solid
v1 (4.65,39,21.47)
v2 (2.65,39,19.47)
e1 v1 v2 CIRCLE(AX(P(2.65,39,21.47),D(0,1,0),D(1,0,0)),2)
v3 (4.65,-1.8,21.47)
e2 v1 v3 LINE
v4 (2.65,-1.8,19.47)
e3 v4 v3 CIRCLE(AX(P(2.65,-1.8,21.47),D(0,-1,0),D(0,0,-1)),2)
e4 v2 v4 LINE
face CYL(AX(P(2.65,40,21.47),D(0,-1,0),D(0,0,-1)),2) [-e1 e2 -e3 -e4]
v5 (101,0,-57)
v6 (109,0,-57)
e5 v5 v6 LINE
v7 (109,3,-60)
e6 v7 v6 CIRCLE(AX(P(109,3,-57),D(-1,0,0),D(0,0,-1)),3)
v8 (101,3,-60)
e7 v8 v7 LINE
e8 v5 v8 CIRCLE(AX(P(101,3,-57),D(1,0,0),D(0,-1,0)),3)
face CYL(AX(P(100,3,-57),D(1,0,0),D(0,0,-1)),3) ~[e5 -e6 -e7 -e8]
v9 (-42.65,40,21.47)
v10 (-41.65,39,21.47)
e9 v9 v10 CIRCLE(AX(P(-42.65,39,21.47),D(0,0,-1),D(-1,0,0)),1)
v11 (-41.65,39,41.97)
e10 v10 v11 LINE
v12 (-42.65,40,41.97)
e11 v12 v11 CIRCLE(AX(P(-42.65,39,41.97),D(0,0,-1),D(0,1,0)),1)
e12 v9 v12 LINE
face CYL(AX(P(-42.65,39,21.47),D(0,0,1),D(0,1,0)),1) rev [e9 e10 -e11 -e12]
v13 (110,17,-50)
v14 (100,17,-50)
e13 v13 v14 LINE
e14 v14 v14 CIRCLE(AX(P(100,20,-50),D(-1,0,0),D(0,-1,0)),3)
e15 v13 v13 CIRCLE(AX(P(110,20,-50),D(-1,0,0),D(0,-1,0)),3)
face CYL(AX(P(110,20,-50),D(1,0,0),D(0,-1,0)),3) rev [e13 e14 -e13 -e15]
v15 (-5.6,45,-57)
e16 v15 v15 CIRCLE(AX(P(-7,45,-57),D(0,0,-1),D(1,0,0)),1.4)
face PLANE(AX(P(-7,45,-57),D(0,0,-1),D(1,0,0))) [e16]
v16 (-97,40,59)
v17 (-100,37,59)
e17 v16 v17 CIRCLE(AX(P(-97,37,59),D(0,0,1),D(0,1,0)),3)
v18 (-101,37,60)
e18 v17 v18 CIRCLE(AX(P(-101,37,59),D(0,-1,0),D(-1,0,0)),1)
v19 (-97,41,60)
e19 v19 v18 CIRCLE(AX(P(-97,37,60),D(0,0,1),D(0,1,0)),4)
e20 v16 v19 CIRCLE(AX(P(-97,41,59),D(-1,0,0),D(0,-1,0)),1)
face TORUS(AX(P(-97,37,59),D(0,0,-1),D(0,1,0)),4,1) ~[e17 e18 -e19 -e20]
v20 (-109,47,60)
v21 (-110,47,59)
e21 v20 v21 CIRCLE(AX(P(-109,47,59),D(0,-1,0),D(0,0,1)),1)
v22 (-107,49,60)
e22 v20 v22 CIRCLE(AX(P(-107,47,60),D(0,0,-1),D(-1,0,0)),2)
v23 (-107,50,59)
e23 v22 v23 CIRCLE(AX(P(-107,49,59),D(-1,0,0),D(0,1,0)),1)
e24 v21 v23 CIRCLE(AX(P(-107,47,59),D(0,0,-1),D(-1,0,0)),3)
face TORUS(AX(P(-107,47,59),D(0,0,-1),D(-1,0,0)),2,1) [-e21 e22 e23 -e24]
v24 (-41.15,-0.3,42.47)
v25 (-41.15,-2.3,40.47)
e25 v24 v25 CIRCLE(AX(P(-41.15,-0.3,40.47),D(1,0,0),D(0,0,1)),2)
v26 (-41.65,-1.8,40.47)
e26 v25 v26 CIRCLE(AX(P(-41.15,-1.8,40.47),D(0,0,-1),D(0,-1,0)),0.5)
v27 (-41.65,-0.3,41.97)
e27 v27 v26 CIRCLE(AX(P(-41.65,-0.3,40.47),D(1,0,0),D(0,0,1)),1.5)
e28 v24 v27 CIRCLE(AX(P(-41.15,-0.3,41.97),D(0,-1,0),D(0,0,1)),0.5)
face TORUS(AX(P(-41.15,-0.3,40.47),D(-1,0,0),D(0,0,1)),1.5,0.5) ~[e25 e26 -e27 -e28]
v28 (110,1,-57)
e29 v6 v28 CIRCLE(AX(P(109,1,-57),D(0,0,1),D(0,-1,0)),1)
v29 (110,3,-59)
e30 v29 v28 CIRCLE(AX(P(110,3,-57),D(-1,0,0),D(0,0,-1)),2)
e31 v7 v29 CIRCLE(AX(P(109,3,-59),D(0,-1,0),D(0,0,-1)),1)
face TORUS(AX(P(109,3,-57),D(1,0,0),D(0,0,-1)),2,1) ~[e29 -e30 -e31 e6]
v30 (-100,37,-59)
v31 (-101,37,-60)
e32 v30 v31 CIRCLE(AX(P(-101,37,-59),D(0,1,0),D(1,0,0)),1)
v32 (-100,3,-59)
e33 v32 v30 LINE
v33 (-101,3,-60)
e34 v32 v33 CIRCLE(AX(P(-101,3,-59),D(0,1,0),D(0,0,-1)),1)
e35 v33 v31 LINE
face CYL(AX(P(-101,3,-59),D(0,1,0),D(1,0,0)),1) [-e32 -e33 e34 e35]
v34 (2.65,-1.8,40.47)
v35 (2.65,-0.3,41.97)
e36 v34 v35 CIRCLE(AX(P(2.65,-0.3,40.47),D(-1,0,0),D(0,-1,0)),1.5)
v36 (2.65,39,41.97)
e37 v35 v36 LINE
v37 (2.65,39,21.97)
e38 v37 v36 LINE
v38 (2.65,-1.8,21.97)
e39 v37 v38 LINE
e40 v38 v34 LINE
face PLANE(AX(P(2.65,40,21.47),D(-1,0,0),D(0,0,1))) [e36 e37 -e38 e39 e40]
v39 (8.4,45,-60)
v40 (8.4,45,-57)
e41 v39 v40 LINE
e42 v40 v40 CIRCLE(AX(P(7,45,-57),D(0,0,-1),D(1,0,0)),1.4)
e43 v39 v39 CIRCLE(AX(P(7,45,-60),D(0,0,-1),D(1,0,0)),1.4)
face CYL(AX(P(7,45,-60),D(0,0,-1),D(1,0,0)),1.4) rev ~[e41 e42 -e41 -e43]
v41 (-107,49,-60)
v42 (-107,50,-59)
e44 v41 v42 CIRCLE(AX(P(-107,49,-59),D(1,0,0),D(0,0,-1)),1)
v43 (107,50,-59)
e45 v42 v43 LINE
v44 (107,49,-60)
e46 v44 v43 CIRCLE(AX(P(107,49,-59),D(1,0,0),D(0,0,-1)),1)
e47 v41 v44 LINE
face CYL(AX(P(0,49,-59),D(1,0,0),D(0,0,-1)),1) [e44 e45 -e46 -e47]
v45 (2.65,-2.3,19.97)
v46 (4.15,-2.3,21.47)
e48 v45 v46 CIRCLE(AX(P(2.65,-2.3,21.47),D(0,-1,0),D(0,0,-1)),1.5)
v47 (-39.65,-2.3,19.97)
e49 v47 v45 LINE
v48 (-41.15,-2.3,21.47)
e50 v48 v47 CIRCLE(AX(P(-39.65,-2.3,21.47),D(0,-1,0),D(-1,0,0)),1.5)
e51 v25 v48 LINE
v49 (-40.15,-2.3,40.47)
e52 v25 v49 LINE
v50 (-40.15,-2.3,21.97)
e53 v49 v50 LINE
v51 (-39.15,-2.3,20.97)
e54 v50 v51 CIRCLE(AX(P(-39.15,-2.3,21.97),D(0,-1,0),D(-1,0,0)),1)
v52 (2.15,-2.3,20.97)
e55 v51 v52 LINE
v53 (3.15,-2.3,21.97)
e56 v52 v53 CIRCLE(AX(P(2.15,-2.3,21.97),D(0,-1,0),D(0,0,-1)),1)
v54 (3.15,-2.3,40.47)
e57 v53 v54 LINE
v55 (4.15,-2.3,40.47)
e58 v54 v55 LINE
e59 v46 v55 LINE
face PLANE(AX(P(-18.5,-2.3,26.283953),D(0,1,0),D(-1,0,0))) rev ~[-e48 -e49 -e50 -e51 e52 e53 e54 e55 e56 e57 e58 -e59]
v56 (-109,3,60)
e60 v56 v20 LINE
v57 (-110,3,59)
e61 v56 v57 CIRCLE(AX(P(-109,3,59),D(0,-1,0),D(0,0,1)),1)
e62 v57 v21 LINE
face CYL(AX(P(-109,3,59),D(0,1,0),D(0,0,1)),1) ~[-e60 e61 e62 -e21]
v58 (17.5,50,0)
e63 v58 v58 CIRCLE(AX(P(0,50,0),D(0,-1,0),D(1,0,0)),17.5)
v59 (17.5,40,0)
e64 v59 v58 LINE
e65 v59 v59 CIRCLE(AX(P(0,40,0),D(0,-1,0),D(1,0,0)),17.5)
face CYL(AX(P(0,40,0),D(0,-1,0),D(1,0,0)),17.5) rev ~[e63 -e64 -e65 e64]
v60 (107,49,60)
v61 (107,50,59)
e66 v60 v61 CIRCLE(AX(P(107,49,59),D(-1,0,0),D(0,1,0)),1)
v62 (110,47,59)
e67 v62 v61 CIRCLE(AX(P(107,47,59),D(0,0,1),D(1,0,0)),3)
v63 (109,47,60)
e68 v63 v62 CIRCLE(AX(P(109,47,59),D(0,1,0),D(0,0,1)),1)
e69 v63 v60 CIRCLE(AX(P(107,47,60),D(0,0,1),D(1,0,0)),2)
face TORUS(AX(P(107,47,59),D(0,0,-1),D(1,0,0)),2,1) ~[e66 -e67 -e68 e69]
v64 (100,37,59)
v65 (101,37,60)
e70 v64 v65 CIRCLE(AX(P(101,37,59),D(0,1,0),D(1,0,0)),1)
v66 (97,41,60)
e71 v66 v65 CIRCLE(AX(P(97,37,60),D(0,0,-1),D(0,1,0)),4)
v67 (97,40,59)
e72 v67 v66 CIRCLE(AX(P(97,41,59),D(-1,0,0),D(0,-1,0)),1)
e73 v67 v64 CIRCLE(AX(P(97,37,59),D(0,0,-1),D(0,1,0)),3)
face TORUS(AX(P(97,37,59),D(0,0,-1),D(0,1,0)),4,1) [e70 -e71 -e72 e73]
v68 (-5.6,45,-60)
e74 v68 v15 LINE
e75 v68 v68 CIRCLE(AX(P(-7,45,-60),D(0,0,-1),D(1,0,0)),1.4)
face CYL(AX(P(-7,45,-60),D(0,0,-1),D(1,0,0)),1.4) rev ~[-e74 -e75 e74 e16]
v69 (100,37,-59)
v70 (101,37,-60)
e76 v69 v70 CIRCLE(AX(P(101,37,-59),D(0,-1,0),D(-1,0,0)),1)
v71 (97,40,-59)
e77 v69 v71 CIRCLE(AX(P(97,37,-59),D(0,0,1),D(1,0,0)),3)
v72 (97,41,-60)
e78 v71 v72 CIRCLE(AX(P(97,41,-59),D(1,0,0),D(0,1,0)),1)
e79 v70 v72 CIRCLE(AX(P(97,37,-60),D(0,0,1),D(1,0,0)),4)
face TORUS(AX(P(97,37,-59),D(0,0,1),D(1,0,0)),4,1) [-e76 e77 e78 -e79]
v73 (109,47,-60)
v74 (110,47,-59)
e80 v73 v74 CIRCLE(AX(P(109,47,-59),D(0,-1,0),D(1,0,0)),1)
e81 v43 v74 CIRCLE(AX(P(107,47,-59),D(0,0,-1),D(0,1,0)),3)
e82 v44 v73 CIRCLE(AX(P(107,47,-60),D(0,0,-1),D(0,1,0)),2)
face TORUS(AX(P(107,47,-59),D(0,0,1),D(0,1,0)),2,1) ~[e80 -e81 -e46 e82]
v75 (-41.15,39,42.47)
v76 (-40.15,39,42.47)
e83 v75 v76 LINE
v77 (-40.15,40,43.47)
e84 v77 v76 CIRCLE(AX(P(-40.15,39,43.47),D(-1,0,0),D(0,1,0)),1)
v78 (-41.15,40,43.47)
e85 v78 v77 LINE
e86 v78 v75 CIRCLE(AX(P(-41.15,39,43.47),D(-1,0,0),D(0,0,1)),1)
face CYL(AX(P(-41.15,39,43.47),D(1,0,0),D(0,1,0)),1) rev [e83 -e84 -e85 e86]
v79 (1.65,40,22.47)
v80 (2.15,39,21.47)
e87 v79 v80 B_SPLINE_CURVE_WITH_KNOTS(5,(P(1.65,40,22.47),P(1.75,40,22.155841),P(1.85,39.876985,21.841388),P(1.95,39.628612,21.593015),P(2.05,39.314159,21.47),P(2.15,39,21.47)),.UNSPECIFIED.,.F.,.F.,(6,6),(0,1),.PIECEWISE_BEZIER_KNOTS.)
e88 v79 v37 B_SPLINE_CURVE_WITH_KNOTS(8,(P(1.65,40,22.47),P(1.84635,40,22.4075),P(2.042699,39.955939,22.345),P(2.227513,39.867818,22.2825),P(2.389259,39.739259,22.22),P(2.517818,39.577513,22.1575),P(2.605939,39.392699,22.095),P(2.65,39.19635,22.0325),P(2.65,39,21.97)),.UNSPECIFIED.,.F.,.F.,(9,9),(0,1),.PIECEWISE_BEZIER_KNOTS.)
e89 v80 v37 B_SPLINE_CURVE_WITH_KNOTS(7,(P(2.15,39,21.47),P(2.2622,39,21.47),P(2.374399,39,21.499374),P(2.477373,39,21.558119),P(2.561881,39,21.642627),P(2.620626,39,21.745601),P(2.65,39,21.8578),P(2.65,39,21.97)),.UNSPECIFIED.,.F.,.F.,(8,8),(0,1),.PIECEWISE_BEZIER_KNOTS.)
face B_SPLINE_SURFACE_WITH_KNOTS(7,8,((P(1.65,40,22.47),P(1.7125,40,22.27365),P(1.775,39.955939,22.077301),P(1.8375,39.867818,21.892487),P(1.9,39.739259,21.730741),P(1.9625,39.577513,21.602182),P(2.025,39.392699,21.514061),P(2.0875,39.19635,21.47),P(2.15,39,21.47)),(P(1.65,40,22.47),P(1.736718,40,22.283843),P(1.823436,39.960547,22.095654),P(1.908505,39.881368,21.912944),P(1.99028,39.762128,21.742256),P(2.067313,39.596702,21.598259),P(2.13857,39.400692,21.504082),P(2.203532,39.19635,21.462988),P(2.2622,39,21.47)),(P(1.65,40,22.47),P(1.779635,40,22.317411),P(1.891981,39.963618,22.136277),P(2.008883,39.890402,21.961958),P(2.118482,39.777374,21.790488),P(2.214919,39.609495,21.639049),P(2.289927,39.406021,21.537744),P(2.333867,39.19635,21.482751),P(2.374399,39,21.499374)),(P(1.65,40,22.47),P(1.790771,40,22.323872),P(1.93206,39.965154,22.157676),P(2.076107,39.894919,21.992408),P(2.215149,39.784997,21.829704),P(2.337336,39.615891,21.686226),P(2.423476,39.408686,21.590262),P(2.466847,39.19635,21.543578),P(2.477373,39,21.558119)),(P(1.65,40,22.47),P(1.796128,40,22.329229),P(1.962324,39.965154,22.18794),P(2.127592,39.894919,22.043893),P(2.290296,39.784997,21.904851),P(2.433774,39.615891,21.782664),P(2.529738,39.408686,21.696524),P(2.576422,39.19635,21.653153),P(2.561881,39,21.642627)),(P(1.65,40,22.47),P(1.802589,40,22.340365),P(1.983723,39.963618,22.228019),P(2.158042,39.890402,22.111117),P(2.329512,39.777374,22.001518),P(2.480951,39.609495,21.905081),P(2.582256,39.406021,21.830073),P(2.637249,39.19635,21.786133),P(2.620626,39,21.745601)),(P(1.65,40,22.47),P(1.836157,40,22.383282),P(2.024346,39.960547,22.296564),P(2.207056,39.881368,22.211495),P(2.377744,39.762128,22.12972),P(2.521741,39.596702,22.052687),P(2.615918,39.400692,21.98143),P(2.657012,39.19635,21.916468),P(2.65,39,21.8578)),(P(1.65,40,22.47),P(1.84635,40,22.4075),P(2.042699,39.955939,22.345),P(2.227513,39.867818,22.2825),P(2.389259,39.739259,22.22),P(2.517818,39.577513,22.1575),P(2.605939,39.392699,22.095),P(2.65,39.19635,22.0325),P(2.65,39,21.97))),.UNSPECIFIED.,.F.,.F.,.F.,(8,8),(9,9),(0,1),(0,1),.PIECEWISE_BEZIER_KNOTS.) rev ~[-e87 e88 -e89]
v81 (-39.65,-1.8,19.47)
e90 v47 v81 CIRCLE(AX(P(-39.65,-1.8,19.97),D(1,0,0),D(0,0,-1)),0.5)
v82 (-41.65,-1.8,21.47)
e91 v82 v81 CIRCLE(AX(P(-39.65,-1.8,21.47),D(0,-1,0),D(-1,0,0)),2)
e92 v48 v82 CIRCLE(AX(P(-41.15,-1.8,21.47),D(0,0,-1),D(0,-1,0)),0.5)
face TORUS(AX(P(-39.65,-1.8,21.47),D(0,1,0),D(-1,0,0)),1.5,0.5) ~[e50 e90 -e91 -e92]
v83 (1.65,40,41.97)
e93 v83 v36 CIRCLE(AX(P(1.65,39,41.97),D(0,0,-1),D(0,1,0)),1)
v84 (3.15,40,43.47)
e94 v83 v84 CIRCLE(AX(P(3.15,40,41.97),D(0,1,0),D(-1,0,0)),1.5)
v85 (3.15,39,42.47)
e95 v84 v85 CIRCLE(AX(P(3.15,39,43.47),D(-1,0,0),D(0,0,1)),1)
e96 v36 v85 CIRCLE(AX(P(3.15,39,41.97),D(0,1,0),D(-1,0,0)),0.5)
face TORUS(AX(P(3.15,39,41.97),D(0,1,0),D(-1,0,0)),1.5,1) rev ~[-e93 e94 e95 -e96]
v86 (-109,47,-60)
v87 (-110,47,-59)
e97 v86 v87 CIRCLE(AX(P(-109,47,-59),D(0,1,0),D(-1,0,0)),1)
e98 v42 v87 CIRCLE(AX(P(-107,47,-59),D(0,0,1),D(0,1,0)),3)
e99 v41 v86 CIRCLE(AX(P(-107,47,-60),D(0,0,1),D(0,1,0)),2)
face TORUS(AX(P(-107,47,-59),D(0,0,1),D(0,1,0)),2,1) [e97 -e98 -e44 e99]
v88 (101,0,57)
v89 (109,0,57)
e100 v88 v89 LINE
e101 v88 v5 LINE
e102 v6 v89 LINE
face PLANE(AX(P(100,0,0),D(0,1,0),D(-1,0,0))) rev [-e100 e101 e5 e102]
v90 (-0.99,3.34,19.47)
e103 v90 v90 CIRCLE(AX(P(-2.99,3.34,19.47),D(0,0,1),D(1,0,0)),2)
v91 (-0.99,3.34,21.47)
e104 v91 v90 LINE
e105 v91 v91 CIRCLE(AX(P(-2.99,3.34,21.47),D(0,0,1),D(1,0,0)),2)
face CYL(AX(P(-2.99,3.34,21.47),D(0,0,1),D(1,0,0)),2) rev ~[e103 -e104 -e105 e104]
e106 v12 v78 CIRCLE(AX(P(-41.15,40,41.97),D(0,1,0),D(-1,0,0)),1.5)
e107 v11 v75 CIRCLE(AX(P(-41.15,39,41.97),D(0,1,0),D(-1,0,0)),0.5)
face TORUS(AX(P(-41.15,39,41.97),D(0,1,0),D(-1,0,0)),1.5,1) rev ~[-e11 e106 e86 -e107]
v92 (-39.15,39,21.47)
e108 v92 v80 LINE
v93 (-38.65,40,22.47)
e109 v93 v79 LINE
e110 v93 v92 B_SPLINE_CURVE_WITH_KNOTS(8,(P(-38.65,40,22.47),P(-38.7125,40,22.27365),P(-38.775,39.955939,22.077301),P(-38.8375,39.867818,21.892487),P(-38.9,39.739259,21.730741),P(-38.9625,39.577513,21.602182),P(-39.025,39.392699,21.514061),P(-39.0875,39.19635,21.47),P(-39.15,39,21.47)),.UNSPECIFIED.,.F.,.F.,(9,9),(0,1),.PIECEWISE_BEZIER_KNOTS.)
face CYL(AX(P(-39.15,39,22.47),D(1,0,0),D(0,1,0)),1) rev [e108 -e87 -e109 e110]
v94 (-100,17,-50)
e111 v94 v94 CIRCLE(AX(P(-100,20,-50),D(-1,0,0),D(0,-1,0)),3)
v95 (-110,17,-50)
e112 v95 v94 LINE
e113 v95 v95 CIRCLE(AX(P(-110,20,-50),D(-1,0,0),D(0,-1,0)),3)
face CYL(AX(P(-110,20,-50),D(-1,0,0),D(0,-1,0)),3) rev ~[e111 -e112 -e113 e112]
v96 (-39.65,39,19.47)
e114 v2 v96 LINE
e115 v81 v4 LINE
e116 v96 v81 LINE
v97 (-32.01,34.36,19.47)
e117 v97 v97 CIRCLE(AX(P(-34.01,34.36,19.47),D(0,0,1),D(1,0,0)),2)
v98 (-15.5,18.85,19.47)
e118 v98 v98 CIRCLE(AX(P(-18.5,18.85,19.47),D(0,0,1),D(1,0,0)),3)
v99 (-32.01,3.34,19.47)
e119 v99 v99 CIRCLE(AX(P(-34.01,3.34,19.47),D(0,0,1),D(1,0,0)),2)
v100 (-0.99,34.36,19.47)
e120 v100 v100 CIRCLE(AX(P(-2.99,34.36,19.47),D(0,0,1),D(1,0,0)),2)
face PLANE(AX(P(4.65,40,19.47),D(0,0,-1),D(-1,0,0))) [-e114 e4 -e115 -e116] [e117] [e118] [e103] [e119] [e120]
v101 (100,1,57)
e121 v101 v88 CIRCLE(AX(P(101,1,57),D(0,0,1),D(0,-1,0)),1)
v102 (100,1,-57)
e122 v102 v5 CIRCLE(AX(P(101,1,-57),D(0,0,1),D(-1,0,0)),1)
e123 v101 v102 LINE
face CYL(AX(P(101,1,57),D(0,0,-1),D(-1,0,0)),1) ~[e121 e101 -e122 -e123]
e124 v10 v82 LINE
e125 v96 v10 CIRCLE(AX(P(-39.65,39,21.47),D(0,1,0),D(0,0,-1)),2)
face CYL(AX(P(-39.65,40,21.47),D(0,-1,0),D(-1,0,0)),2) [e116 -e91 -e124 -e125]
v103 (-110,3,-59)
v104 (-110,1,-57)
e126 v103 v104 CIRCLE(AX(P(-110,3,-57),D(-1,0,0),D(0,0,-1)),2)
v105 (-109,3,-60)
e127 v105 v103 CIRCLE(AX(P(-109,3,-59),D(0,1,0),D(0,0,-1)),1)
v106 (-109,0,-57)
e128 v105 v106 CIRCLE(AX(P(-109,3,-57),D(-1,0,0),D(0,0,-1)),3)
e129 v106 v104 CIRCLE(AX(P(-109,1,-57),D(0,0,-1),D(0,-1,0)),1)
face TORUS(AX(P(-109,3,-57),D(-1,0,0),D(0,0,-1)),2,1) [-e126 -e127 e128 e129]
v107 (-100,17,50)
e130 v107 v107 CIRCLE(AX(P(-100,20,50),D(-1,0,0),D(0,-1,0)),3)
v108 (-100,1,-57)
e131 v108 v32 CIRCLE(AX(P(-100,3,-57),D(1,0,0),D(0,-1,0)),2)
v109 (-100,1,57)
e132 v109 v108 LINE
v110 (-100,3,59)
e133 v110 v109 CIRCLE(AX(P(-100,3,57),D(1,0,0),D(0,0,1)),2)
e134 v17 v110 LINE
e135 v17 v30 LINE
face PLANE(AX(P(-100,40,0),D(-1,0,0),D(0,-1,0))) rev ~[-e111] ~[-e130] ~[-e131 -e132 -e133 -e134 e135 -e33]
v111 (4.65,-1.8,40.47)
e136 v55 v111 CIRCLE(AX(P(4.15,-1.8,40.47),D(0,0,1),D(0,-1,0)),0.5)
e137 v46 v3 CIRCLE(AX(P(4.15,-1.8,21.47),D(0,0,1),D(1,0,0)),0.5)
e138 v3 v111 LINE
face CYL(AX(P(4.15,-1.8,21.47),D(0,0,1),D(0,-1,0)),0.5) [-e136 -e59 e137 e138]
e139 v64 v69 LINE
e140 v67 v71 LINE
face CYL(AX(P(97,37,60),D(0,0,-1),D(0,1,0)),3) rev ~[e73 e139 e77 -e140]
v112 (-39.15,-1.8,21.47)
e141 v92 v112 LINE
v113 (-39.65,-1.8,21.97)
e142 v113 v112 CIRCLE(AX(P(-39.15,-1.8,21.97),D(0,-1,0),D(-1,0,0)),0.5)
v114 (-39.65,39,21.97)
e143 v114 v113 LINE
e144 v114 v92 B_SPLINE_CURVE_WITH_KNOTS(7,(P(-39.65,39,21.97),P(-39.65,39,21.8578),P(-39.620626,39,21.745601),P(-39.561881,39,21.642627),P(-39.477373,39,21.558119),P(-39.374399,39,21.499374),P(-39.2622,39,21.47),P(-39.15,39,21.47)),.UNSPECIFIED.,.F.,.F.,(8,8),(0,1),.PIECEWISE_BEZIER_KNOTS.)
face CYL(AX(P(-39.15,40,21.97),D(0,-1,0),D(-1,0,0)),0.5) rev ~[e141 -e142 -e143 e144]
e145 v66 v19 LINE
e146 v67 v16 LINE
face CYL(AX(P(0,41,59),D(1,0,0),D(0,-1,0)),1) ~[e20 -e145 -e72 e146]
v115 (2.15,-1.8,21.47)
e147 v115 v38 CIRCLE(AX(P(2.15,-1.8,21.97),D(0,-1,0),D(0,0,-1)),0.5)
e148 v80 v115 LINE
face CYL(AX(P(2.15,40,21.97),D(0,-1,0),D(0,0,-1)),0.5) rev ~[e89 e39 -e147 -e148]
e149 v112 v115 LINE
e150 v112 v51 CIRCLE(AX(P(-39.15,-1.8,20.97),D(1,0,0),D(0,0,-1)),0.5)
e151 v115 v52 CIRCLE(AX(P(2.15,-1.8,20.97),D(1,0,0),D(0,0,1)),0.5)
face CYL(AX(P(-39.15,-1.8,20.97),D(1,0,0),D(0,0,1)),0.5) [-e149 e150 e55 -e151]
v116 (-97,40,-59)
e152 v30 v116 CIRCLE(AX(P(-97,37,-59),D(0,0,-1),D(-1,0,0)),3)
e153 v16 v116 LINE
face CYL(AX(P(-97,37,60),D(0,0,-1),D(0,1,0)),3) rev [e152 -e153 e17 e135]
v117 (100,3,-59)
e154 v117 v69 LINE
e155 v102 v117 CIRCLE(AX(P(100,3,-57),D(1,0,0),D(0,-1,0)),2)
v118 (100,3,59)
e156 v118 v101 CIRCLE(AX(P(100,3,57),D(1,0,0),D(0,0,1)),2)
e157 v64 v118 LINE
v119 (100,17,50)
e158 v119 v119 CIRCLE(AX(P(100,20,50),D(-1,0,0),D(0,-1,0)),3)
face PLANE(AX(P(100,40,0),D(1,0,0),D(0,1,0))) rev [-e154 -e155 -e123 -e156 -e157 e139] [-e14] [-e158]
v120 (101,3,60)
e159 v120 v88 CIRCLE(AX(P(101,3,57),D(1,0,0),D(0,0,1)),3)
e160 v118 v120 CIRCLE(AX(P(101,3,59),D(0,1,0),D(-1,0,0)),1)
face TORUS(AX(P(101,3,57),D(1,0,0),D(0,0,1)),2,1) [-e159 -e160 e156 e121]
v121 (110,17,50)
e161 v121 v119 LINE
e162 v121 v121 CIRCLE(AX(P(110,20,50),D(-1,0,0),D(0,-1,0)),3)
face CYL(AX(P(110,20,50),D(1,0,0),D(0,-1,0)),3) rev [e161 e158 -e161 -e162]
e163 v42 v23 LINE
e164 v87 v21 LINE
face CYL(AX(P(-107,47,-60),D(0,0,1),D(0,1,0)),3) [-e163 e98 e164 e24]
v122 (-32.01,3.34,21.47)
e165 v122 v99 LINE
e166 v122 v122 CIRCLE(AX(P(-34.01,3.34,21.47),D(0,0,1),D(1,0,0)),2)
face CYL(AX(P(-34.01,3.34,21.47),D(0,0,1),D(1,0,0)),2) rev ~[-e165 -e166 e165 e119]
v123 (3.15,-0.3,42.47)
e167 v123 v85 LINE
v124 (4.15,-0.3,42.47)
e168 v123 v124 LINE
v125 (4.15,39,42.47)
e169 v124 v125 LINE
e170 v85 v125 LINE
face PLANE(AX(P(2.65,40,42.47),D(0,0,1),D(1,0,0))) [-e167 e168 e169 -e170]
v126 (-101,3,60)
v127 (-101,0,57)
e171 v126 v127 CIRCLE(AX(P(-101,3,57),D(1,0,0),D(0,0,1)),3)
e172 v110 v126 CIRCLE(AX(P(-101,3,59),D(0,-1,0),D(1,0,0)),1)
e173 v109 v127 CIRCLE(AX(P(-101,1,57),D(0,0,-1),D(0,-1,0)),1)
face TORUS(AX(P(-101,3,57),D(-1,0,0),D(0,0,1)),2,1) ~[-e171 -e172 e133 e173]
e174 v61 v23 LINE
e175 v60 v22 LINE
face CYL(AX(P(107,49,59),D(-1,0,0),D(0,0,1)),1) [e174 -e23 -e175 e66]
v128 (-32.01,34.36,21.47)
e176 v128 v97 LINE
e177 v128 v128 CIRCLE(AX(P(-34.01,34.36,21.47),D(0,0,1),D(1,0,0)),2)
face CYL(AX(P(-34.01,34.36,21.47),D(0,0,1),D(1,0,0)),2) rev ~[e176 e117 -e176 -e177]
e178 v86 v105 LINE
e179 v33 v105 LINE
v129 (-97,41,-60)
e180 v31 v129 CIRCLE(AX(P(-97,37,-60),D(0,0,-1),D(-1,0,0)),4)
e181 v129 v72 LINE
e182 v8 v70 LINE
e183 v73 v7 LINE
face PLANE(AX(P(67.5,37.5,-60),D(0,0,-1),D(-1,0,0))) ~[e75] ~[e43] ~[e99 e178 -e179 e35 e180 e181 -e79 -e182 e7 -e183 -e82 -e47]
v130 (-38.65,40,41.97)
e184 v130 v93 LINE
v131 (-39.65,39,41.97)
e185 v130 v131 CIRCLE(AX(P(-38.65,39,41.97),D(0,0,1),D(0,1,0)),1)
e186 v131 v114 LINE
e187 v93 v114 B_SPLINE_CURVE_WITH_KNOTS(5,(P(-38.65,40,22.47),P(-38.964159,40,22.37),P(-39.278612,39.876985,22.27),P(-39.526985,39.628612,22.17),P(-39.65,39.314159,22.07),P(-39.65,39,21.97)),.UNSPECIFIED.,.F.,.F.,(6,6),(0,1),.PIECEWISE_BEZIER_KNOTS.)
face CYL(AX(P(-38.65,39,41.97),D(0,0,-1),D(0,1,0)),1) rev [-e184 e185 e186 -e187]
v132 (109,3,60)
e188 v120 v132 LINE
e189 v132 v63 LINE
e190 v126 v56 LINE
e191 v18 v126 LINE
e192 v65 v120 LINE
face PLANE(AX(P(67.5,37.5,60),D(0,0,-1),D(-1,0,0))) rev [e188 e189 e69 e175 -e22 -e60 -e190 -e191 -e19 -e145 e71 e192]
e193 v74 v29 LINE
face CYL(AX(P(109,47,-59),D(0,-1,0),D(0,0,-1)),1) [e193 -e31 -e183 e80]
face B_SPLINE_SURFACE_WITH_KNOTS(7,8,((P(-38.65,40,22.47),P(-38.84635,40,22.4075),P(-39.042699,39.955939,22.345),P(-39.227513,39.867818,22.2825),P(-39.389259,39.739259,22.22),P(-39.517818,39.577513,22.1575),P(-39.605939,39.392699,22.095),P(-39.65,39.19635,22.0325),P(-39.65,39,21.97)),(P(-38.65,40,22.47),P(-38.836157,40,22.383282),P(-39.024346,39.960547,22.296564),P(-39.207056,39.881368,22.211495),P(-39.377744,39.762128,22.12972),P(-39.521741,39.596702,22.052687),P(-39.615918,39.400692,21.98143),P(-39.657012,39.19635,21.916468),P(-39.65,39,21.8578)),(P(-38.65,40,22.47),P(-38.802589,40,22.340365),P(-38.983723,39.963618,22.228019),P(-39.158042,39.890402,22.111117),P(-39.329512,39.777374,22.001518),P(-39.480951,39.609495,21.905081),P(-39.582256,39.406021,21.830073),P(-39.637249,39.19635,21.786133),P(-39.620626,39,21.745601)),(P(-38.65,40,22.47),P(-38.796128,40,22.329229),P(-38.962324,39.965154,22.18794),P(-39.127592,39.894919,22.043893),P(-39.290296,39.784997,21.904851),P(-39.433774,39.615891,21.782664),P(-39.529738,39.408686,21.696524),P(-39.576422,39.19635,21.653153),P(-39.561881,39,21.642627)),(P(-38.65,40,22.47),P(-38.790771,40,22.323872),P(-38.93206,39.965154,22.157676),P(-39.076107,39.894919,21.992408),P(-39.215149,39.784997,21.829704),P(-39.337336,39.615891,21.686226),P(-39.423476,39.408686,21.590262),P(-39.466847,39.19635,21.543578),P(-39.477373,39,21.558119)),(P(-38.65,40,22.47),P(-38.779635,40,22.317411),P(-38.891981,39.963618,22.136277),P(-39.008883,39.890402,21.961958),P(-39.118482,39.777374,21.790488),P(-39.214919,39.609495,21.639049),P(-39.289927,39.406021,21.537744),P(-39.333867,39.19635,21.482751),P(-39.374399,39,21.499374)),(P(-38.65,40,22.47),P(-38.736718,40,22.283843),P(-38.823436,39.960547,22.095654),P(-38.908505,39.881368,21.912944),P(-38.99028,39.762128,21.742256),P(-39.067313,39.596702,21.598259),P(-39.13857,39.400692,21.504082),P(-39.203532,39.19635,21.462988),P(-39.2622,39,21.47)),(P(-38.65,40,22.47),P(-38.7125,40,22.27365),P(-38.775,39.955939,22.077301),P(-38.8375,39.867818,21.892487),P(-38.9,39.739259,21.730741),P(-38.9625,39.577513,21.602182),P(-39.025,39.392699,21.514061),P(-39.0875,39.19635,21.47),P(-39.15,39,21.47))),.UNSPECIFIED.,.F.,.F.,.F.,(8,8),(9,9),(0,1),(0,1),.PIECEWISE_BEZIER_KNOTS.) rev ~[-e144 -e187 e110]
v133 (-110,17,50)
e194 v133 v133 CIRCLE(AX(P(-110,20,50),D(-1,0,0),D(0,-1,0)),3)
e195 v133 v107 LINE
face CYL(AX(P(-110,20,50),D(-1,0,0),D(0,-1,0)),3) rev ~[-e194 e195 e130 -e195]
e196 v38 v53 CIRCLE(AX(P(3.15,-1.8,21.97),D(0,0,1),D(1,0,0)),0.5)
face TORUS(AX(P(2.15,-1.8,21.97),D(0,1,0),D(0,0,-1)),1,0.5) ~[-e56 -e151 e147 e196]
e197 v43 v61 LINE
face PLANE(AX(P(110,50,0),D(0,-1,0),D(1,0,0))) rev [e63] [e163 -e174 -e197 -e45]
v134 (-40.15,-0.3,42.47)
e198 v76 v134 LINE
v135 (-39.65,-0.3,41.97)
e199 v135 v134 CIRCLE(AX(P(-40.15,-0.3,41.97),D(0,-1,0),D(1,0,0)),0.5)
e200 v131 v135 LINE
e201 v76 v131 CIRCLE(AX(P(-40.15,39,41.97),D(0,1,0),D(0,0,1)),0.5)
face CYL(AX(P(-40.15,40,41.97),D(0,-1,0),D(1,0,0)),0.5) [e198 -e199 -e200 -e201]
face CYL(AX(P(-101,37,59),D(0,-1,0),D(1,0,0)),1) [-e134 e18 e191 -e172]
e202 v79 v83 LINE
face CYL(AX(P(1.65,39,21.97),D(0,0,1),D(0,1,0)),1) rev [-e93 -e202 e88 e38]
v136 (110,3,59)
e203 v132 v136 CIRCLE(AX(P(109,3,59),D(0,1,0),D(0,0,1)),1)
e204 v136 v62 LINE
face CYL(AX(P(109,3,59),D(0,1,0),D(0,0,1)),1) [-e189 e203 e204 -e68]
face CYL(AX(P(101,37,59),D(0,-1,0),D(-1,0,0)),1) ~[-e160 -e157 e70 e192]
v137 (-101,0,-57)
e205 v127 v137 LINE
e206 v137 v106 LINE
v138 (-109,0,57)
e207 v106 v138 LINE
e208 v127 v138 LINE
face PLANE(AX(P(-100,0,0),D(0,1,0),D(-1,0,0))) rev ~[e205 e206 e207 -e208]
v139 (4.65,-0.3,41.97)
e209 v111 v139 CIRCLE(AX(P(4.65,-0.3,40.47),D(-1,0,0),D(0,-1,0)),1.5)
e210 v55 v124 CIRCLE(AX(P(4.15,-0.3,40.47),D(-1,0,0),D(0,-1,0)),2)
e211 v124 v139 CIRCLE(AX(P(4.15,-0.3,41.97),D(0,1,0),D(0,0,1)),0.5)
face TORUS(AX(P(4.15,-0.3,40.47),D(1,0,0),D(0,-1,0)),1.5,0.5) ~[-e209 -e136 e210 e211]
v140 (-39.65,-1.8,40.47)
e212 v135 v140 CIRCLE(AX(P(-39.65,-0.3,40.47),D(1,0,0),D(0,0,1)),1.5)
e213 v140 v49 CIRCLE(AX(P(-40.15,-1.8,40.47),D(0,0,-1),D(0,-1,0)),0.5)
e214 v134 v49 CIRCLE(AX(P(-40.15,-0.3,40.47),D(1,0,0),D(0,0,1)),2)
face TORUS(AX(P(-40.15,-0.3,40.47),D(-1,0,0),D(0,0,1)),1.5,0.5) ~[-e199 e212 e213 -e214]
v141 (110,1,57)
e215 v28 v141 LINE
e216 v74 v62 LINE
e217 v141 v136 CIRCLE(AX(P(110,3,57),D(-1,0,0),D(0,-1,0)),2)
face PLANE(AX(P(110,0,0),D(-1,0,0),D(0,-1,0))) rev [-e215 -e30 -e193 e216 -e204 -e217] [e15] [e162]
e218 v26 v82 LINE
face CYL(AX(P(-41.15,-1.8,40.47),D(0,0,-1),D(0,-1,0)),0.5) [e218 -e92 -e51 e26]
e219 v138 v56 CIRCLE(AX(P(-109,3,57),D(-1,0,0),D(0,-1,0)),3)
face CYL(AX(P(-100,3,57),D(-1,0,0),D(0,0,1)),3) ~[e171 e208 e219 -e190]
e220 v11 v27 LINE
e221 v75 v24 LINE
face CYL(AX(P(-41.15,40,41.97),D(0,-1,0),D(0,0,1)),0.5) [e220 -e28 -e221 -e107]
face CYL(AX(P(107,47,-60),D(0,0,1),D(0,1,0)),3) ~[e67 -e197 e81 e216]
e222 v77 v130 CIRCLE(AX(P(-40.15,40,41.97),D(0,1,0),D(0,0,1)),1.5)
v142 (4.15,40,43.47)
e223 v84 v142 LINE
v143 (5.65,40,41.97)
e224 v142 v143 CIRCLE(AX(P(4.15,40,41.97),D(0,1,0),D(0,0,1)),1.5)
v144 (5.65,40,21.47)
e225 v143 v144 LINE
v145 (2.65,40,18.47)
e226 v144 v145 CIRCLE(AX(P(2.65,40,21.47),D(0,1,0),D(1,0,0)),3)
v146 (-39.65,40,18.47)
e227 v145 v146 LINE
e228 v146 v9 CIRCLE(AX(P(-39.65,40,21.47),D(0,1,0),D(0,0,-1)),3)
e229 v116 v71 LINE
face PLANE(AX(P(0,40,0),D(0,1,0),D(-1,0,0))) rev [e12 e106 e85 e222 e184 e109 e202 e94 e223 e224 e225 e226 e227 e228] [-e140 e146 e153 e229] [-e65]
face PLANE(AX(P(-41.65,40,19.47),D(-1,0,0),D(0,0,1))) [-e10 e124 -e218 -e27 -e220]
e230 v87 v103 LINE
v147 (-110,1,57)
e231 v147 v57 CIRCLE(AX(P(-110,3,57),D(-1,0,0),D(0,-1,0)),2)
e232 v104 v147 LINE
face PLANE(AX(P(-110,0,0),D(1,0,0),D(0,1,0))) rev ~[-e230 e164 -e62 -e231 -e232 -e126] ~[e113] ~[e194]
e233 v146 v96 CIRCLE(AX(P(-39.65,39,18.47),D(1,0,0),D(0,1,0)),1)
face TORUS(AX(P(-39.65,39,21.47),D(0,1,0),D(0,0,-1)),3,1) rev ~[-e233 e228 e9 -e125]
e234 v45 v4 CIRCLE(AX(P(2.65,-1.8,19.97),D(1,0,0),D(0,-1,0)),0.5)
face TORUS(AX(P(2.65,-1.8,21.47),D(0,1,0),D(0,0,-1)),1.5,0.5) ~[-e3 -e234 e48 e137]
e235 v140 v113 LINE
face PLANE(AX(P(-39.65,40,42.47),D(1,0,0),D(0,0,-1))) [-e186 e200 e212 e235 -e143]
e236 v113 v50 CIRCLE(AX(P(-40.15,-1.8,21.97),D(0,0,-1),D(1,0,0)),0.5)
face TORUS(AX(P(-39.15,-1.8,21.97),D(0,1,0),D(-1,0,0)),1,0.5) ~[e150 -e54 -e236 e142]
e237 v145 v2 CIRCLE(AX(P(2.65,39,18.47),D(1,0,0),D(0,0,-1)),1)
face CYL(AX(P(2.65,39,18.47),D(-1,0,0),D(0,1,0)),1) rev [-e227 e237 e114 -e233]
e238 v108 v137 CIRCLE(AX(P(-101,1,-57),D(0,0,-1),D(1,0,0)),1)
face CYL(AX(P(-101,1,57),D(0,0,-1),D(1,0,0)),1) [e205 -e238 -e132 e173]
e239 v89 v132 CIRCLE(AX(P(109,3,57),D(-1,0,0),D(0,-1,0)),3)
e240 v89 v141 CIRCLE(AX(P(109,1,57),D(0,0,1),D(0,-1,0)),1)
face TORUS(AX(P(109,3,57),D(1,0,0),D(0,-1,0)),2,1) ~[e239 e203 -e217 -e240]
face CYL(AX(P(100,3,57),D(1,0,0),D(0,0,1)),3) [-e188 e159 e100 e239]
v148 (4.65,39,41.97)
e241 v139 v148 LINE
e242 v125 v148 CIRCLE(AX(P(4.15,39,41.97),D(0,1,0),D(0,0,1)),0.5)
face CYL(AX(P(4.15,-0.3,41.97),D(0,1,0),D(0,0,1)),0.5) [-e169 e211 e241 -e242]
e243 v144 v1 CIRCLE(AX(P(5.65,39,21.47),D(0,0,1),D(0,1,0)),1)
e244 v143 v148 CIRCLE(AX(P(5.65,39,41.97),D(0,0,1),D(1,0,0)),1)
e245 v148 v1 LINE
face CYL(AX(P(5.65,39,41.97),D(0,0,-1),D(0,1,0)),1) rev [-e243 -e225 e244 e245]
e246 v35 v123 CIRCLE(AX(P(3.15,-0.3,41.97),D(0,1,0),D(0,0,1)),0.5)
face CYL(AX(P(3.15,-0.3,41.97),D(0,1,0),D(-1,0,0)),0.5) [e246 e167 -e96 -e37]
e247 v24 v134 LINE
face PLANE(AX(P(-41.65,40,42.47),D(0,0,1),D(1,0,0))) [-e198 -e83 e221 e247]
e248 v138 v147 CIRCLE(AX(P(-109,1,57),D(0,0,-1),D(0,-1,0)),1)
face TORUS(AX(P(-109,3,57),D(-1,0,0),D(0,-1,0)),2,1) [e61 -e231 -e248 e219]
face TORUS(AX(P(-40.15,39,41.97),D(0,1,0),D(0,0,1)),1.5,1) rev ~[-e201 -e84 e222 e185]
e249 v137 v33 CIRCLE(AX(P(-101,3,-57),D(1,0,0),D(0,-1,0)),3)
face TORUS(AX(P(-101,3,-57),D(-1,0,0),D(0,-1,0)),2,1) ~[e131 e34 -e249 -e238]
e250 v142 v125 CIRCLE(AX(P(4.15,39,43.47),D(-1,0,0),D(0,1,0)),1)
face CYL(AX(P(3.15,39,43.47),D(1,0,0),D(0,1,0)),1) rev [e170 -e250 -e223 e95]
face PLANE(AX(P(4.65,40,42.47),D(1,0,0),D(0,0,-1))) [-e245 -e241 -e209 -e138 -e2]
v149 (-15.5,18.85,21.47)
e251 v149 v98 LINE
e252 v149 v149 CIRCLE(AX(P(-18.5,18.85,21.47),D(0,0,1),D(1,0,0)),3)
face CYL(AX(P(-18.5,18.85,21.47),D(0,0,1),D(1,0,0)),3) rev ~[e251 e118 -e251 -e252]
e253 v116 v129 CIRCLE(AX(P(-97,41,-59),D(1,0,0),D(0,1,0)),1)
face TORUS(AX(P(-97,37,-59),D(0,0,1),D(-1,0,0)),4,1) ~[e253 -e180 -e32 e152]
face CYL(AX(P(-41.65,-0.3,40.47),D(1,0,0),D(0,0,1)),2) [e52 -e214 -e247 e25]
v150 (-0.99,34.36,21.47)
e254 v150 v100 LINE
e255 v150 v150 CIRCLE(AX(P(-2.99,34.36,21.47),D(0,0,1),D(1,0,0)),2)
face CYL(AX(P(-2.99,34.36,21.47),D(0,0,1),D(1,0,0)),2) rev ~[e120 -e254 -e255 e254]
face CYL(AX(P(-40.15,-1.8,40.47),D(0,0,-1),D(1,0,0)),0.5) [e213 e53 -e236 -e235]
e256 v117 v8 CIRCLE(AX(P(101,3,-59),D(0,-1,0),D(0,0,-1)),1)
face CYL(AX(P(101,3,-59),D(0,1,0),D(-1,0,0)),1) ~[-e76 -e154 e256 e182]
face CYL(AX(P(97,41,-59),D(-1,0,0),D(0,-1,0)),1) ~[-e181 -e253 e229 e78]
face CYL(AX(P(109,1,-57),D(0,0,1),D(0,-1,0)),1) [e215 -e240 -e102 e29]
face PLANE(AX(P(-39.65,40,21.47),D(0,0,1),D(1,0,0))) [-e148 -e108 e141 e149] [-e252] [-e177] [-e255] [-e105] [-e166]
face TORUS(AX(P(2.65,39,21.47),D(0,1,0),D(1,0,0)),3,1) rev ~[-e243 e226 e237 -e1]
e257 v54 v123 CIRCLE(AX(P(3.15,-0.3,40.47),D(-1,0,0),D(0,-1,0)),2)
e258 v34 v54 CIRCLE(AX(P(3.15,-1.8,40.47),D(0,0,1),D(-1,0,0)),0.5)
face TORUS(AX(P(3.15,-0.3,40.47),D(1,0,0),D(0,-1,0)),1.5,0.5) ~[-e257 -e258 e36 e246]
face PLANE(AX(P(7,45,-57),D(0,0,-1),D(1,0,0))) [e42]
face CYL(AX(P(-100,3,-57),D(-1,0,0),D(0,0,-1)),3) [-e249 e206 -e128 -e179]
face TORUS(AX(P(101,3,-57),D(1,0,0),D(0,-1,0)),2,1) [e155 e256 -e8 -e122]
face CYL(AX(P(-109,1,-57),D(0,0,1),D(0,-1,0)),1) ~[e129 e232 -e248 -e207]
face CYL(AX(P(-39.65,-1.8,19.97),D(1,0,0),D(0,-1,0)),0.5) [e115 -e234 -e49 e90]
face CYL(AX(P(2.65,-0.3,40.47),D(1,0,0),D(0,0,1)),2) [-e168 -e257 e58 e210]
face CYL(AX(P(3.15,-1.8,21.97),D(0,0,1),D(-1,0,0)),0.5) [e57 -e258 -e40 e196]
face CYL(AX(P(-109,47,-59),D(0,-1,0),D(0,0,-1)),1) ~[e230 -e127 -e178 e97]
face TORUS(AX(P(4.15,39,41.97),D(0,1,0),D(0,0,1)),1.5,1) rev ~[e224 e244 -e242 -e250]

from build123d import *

# Parameters (mm, degrees)
PAD_DEPTH       = 60
SKETCH001_R     = 3
POCKET_DEPTH    = 110.001
FILLET_R        = 3
FILLET001_R     = 1
SKETCH004_R     = 1.4
POCKET002_DEPTH = 3
SKETCH002_R     = 17.5
POCKET003_DEPTH = 10.001
PAD001_DEPTH    = 42.3
SKETCH006_R     = 3
SKETCH006_R_2   = 2
POCKET004_DEPTH = 81.471
FILLET002_R     = 2
FILLET003_R     = 2
FILLET004_R     = 0.5
FILLET005_R     = 0.5
FILLET006_R     = 1


with BuildPart() as part:
    # Sketch → Pad (new body, symmetric)
    with BuildSketch(Plane.XY):
        Polygon((0, 40), (-100, 40), (-100, 0), (-110, 0), (-110, 50), (0, 50), align=None)
        Polygon((0, 40), (0, 50), align=None)
    extrude(amount=PAD_DEPTH, both=True)

    # Sketch001 (on Face3 of Pad) → Pocket (cut, through all)
    with BuildSketch(Plane(origin=(-110, 0, 0), x_dir=(0, -1, 0), z_dir=(-1, 0, 0))):
        with Locations((-20, -50)):
            Circle(SKETCH001_R)
        with Locations((-20, 50)):
            Circle(SKETCH001_R)
    extrude(amount=-POCKET_DEPTH, mode=Mode.SUBTRACT)

    # Fillet
    fillet_edges = [part.edges().sort_by_distance(p)[0] for p in [
        (-105, 0, -60),
        (-100, 40, 0),
        (-105, 0, 60),
        (-110, 50, 0),
    ]]
    fillet(fillet_edges, radius=FILLET_R)

    # Fillet001
    fillet001_edges = [part.edges().sort_by_distance(p)[0] for p in [
        (-110, 25, 60),
        (-100, 0, 0),
    ]]
    fillet(fillet001_edges, radius=FILLET001_R)

    # Mirrored: part across YZ


with BuildPart() as part_1:
    add(part.part)
    add(part.part.mirror(Plane.YZ))

    # Sketch004 (on Face48 of Mirrored) → Pocket002 (cut)
    with BuildSketch(Plane(origin=(0, 0, -60), x_dir=(1, 0, 0), z_dir=(0, 0, -1))):
        with Locations((-7, -45)):
            Circle(SKETCH004_R)
        with Locations((7, -45)):
            Circle(SKETCH004_R)
    extrude(amount=-POCKET002_DEPTH, mode=Mode.SUBTRACT)

    # Sketch002 (on Face1 of Fillet001) → Pocket003 (cut, through all)
    with BuildSketch(Plane.XZ.offset(-40)):
        Circle(SKETCH002_R)
    extrude(amount=-POCKET003_DEPTH, mode=Mode.SUBTRACT)

    # Sketch005 (on Face34 of Pocket003) → Pad001 (join)
    with BuildSketch(Plane.XZ.offset(-40)):
        Polygon((2.65, 42.47), (4.65, 42.47), (4.65, 19.47), (-41.65, 19.47), (-41.65, 42.47), (-39.65, 42.47), (-39.65, 21.47), (2.65, 21.47), align=None)
    extrude(amount=PAD001_DEPTH)

    # Sketch006 (on Face61 of Pad001) → Pocket004 (cut, through all)
    with BuildSketch(Plane.XY.offset(21.47)):
        with Locations((-18.5, 18.85)):
            Circle(SKETCH006_R)
        with Locations((-34.01, 34.36)):
            Circle(SKETCH006_R_2)
        with Locations((-2.99, 34.36)):
            Circle(SKETCH006_R_2)
        with Locations((-2.99, 3.34)):
            Circle(SKETCH006_R_2)
        with Locations((-34.01, 3.34)):
            Circle(SKETCH006_R_2)
    extrude(amount=-POCKET004_DEPTH, mode=Mode.SUBTRACT)

    # Fillet002
    fillet002_edges = [part_1.edges().sort_by_distance(p)[0] for p in [
        (4.65, 18.85, 19.47),
        (-41.65, 18.85, 19.47),
    ]]
    fillet(fillet002_edges, radius=FILLET002_R)

    # Fillet003
    fillet003_edges = [part_1.edges().sort_by_distance(p)[0] for p in [
        (-40.65, -2.3, 42.47),
        (3.65, -2.3, 42.47),
    ]]
    fillet(fillet003_edges, radius=FILLET003_R)

    # Fillet004
    fillet004_edges = [part_1.edges().sort_by_distance(p)[0] for p in [
        (-39.65, 18.85, 21.47),
        (2.65, 18.85, 21.47),
    ]]
    fillet(fillet004_edges, radius=FILLET004_R)

    # Fillet005
    fillet005_edges = [part_1.edges().sort_by_distance(p)[0] for p in [
        (-39.65, 19.85, 42.47),
        (-41.65, 19.85, 42.47),
    ]]
    fillet(fillet005_edges, radius=FILLET005_R)

    # Fillet006
    fillet006_edges = [part_1.edges().sort_by_distance(p)[0] for p in [
        (-39.65, 40, 31.97),
    ]]
    fillet(fillet006_edges, radius=FILLET006_R)


solid = part_1.part
